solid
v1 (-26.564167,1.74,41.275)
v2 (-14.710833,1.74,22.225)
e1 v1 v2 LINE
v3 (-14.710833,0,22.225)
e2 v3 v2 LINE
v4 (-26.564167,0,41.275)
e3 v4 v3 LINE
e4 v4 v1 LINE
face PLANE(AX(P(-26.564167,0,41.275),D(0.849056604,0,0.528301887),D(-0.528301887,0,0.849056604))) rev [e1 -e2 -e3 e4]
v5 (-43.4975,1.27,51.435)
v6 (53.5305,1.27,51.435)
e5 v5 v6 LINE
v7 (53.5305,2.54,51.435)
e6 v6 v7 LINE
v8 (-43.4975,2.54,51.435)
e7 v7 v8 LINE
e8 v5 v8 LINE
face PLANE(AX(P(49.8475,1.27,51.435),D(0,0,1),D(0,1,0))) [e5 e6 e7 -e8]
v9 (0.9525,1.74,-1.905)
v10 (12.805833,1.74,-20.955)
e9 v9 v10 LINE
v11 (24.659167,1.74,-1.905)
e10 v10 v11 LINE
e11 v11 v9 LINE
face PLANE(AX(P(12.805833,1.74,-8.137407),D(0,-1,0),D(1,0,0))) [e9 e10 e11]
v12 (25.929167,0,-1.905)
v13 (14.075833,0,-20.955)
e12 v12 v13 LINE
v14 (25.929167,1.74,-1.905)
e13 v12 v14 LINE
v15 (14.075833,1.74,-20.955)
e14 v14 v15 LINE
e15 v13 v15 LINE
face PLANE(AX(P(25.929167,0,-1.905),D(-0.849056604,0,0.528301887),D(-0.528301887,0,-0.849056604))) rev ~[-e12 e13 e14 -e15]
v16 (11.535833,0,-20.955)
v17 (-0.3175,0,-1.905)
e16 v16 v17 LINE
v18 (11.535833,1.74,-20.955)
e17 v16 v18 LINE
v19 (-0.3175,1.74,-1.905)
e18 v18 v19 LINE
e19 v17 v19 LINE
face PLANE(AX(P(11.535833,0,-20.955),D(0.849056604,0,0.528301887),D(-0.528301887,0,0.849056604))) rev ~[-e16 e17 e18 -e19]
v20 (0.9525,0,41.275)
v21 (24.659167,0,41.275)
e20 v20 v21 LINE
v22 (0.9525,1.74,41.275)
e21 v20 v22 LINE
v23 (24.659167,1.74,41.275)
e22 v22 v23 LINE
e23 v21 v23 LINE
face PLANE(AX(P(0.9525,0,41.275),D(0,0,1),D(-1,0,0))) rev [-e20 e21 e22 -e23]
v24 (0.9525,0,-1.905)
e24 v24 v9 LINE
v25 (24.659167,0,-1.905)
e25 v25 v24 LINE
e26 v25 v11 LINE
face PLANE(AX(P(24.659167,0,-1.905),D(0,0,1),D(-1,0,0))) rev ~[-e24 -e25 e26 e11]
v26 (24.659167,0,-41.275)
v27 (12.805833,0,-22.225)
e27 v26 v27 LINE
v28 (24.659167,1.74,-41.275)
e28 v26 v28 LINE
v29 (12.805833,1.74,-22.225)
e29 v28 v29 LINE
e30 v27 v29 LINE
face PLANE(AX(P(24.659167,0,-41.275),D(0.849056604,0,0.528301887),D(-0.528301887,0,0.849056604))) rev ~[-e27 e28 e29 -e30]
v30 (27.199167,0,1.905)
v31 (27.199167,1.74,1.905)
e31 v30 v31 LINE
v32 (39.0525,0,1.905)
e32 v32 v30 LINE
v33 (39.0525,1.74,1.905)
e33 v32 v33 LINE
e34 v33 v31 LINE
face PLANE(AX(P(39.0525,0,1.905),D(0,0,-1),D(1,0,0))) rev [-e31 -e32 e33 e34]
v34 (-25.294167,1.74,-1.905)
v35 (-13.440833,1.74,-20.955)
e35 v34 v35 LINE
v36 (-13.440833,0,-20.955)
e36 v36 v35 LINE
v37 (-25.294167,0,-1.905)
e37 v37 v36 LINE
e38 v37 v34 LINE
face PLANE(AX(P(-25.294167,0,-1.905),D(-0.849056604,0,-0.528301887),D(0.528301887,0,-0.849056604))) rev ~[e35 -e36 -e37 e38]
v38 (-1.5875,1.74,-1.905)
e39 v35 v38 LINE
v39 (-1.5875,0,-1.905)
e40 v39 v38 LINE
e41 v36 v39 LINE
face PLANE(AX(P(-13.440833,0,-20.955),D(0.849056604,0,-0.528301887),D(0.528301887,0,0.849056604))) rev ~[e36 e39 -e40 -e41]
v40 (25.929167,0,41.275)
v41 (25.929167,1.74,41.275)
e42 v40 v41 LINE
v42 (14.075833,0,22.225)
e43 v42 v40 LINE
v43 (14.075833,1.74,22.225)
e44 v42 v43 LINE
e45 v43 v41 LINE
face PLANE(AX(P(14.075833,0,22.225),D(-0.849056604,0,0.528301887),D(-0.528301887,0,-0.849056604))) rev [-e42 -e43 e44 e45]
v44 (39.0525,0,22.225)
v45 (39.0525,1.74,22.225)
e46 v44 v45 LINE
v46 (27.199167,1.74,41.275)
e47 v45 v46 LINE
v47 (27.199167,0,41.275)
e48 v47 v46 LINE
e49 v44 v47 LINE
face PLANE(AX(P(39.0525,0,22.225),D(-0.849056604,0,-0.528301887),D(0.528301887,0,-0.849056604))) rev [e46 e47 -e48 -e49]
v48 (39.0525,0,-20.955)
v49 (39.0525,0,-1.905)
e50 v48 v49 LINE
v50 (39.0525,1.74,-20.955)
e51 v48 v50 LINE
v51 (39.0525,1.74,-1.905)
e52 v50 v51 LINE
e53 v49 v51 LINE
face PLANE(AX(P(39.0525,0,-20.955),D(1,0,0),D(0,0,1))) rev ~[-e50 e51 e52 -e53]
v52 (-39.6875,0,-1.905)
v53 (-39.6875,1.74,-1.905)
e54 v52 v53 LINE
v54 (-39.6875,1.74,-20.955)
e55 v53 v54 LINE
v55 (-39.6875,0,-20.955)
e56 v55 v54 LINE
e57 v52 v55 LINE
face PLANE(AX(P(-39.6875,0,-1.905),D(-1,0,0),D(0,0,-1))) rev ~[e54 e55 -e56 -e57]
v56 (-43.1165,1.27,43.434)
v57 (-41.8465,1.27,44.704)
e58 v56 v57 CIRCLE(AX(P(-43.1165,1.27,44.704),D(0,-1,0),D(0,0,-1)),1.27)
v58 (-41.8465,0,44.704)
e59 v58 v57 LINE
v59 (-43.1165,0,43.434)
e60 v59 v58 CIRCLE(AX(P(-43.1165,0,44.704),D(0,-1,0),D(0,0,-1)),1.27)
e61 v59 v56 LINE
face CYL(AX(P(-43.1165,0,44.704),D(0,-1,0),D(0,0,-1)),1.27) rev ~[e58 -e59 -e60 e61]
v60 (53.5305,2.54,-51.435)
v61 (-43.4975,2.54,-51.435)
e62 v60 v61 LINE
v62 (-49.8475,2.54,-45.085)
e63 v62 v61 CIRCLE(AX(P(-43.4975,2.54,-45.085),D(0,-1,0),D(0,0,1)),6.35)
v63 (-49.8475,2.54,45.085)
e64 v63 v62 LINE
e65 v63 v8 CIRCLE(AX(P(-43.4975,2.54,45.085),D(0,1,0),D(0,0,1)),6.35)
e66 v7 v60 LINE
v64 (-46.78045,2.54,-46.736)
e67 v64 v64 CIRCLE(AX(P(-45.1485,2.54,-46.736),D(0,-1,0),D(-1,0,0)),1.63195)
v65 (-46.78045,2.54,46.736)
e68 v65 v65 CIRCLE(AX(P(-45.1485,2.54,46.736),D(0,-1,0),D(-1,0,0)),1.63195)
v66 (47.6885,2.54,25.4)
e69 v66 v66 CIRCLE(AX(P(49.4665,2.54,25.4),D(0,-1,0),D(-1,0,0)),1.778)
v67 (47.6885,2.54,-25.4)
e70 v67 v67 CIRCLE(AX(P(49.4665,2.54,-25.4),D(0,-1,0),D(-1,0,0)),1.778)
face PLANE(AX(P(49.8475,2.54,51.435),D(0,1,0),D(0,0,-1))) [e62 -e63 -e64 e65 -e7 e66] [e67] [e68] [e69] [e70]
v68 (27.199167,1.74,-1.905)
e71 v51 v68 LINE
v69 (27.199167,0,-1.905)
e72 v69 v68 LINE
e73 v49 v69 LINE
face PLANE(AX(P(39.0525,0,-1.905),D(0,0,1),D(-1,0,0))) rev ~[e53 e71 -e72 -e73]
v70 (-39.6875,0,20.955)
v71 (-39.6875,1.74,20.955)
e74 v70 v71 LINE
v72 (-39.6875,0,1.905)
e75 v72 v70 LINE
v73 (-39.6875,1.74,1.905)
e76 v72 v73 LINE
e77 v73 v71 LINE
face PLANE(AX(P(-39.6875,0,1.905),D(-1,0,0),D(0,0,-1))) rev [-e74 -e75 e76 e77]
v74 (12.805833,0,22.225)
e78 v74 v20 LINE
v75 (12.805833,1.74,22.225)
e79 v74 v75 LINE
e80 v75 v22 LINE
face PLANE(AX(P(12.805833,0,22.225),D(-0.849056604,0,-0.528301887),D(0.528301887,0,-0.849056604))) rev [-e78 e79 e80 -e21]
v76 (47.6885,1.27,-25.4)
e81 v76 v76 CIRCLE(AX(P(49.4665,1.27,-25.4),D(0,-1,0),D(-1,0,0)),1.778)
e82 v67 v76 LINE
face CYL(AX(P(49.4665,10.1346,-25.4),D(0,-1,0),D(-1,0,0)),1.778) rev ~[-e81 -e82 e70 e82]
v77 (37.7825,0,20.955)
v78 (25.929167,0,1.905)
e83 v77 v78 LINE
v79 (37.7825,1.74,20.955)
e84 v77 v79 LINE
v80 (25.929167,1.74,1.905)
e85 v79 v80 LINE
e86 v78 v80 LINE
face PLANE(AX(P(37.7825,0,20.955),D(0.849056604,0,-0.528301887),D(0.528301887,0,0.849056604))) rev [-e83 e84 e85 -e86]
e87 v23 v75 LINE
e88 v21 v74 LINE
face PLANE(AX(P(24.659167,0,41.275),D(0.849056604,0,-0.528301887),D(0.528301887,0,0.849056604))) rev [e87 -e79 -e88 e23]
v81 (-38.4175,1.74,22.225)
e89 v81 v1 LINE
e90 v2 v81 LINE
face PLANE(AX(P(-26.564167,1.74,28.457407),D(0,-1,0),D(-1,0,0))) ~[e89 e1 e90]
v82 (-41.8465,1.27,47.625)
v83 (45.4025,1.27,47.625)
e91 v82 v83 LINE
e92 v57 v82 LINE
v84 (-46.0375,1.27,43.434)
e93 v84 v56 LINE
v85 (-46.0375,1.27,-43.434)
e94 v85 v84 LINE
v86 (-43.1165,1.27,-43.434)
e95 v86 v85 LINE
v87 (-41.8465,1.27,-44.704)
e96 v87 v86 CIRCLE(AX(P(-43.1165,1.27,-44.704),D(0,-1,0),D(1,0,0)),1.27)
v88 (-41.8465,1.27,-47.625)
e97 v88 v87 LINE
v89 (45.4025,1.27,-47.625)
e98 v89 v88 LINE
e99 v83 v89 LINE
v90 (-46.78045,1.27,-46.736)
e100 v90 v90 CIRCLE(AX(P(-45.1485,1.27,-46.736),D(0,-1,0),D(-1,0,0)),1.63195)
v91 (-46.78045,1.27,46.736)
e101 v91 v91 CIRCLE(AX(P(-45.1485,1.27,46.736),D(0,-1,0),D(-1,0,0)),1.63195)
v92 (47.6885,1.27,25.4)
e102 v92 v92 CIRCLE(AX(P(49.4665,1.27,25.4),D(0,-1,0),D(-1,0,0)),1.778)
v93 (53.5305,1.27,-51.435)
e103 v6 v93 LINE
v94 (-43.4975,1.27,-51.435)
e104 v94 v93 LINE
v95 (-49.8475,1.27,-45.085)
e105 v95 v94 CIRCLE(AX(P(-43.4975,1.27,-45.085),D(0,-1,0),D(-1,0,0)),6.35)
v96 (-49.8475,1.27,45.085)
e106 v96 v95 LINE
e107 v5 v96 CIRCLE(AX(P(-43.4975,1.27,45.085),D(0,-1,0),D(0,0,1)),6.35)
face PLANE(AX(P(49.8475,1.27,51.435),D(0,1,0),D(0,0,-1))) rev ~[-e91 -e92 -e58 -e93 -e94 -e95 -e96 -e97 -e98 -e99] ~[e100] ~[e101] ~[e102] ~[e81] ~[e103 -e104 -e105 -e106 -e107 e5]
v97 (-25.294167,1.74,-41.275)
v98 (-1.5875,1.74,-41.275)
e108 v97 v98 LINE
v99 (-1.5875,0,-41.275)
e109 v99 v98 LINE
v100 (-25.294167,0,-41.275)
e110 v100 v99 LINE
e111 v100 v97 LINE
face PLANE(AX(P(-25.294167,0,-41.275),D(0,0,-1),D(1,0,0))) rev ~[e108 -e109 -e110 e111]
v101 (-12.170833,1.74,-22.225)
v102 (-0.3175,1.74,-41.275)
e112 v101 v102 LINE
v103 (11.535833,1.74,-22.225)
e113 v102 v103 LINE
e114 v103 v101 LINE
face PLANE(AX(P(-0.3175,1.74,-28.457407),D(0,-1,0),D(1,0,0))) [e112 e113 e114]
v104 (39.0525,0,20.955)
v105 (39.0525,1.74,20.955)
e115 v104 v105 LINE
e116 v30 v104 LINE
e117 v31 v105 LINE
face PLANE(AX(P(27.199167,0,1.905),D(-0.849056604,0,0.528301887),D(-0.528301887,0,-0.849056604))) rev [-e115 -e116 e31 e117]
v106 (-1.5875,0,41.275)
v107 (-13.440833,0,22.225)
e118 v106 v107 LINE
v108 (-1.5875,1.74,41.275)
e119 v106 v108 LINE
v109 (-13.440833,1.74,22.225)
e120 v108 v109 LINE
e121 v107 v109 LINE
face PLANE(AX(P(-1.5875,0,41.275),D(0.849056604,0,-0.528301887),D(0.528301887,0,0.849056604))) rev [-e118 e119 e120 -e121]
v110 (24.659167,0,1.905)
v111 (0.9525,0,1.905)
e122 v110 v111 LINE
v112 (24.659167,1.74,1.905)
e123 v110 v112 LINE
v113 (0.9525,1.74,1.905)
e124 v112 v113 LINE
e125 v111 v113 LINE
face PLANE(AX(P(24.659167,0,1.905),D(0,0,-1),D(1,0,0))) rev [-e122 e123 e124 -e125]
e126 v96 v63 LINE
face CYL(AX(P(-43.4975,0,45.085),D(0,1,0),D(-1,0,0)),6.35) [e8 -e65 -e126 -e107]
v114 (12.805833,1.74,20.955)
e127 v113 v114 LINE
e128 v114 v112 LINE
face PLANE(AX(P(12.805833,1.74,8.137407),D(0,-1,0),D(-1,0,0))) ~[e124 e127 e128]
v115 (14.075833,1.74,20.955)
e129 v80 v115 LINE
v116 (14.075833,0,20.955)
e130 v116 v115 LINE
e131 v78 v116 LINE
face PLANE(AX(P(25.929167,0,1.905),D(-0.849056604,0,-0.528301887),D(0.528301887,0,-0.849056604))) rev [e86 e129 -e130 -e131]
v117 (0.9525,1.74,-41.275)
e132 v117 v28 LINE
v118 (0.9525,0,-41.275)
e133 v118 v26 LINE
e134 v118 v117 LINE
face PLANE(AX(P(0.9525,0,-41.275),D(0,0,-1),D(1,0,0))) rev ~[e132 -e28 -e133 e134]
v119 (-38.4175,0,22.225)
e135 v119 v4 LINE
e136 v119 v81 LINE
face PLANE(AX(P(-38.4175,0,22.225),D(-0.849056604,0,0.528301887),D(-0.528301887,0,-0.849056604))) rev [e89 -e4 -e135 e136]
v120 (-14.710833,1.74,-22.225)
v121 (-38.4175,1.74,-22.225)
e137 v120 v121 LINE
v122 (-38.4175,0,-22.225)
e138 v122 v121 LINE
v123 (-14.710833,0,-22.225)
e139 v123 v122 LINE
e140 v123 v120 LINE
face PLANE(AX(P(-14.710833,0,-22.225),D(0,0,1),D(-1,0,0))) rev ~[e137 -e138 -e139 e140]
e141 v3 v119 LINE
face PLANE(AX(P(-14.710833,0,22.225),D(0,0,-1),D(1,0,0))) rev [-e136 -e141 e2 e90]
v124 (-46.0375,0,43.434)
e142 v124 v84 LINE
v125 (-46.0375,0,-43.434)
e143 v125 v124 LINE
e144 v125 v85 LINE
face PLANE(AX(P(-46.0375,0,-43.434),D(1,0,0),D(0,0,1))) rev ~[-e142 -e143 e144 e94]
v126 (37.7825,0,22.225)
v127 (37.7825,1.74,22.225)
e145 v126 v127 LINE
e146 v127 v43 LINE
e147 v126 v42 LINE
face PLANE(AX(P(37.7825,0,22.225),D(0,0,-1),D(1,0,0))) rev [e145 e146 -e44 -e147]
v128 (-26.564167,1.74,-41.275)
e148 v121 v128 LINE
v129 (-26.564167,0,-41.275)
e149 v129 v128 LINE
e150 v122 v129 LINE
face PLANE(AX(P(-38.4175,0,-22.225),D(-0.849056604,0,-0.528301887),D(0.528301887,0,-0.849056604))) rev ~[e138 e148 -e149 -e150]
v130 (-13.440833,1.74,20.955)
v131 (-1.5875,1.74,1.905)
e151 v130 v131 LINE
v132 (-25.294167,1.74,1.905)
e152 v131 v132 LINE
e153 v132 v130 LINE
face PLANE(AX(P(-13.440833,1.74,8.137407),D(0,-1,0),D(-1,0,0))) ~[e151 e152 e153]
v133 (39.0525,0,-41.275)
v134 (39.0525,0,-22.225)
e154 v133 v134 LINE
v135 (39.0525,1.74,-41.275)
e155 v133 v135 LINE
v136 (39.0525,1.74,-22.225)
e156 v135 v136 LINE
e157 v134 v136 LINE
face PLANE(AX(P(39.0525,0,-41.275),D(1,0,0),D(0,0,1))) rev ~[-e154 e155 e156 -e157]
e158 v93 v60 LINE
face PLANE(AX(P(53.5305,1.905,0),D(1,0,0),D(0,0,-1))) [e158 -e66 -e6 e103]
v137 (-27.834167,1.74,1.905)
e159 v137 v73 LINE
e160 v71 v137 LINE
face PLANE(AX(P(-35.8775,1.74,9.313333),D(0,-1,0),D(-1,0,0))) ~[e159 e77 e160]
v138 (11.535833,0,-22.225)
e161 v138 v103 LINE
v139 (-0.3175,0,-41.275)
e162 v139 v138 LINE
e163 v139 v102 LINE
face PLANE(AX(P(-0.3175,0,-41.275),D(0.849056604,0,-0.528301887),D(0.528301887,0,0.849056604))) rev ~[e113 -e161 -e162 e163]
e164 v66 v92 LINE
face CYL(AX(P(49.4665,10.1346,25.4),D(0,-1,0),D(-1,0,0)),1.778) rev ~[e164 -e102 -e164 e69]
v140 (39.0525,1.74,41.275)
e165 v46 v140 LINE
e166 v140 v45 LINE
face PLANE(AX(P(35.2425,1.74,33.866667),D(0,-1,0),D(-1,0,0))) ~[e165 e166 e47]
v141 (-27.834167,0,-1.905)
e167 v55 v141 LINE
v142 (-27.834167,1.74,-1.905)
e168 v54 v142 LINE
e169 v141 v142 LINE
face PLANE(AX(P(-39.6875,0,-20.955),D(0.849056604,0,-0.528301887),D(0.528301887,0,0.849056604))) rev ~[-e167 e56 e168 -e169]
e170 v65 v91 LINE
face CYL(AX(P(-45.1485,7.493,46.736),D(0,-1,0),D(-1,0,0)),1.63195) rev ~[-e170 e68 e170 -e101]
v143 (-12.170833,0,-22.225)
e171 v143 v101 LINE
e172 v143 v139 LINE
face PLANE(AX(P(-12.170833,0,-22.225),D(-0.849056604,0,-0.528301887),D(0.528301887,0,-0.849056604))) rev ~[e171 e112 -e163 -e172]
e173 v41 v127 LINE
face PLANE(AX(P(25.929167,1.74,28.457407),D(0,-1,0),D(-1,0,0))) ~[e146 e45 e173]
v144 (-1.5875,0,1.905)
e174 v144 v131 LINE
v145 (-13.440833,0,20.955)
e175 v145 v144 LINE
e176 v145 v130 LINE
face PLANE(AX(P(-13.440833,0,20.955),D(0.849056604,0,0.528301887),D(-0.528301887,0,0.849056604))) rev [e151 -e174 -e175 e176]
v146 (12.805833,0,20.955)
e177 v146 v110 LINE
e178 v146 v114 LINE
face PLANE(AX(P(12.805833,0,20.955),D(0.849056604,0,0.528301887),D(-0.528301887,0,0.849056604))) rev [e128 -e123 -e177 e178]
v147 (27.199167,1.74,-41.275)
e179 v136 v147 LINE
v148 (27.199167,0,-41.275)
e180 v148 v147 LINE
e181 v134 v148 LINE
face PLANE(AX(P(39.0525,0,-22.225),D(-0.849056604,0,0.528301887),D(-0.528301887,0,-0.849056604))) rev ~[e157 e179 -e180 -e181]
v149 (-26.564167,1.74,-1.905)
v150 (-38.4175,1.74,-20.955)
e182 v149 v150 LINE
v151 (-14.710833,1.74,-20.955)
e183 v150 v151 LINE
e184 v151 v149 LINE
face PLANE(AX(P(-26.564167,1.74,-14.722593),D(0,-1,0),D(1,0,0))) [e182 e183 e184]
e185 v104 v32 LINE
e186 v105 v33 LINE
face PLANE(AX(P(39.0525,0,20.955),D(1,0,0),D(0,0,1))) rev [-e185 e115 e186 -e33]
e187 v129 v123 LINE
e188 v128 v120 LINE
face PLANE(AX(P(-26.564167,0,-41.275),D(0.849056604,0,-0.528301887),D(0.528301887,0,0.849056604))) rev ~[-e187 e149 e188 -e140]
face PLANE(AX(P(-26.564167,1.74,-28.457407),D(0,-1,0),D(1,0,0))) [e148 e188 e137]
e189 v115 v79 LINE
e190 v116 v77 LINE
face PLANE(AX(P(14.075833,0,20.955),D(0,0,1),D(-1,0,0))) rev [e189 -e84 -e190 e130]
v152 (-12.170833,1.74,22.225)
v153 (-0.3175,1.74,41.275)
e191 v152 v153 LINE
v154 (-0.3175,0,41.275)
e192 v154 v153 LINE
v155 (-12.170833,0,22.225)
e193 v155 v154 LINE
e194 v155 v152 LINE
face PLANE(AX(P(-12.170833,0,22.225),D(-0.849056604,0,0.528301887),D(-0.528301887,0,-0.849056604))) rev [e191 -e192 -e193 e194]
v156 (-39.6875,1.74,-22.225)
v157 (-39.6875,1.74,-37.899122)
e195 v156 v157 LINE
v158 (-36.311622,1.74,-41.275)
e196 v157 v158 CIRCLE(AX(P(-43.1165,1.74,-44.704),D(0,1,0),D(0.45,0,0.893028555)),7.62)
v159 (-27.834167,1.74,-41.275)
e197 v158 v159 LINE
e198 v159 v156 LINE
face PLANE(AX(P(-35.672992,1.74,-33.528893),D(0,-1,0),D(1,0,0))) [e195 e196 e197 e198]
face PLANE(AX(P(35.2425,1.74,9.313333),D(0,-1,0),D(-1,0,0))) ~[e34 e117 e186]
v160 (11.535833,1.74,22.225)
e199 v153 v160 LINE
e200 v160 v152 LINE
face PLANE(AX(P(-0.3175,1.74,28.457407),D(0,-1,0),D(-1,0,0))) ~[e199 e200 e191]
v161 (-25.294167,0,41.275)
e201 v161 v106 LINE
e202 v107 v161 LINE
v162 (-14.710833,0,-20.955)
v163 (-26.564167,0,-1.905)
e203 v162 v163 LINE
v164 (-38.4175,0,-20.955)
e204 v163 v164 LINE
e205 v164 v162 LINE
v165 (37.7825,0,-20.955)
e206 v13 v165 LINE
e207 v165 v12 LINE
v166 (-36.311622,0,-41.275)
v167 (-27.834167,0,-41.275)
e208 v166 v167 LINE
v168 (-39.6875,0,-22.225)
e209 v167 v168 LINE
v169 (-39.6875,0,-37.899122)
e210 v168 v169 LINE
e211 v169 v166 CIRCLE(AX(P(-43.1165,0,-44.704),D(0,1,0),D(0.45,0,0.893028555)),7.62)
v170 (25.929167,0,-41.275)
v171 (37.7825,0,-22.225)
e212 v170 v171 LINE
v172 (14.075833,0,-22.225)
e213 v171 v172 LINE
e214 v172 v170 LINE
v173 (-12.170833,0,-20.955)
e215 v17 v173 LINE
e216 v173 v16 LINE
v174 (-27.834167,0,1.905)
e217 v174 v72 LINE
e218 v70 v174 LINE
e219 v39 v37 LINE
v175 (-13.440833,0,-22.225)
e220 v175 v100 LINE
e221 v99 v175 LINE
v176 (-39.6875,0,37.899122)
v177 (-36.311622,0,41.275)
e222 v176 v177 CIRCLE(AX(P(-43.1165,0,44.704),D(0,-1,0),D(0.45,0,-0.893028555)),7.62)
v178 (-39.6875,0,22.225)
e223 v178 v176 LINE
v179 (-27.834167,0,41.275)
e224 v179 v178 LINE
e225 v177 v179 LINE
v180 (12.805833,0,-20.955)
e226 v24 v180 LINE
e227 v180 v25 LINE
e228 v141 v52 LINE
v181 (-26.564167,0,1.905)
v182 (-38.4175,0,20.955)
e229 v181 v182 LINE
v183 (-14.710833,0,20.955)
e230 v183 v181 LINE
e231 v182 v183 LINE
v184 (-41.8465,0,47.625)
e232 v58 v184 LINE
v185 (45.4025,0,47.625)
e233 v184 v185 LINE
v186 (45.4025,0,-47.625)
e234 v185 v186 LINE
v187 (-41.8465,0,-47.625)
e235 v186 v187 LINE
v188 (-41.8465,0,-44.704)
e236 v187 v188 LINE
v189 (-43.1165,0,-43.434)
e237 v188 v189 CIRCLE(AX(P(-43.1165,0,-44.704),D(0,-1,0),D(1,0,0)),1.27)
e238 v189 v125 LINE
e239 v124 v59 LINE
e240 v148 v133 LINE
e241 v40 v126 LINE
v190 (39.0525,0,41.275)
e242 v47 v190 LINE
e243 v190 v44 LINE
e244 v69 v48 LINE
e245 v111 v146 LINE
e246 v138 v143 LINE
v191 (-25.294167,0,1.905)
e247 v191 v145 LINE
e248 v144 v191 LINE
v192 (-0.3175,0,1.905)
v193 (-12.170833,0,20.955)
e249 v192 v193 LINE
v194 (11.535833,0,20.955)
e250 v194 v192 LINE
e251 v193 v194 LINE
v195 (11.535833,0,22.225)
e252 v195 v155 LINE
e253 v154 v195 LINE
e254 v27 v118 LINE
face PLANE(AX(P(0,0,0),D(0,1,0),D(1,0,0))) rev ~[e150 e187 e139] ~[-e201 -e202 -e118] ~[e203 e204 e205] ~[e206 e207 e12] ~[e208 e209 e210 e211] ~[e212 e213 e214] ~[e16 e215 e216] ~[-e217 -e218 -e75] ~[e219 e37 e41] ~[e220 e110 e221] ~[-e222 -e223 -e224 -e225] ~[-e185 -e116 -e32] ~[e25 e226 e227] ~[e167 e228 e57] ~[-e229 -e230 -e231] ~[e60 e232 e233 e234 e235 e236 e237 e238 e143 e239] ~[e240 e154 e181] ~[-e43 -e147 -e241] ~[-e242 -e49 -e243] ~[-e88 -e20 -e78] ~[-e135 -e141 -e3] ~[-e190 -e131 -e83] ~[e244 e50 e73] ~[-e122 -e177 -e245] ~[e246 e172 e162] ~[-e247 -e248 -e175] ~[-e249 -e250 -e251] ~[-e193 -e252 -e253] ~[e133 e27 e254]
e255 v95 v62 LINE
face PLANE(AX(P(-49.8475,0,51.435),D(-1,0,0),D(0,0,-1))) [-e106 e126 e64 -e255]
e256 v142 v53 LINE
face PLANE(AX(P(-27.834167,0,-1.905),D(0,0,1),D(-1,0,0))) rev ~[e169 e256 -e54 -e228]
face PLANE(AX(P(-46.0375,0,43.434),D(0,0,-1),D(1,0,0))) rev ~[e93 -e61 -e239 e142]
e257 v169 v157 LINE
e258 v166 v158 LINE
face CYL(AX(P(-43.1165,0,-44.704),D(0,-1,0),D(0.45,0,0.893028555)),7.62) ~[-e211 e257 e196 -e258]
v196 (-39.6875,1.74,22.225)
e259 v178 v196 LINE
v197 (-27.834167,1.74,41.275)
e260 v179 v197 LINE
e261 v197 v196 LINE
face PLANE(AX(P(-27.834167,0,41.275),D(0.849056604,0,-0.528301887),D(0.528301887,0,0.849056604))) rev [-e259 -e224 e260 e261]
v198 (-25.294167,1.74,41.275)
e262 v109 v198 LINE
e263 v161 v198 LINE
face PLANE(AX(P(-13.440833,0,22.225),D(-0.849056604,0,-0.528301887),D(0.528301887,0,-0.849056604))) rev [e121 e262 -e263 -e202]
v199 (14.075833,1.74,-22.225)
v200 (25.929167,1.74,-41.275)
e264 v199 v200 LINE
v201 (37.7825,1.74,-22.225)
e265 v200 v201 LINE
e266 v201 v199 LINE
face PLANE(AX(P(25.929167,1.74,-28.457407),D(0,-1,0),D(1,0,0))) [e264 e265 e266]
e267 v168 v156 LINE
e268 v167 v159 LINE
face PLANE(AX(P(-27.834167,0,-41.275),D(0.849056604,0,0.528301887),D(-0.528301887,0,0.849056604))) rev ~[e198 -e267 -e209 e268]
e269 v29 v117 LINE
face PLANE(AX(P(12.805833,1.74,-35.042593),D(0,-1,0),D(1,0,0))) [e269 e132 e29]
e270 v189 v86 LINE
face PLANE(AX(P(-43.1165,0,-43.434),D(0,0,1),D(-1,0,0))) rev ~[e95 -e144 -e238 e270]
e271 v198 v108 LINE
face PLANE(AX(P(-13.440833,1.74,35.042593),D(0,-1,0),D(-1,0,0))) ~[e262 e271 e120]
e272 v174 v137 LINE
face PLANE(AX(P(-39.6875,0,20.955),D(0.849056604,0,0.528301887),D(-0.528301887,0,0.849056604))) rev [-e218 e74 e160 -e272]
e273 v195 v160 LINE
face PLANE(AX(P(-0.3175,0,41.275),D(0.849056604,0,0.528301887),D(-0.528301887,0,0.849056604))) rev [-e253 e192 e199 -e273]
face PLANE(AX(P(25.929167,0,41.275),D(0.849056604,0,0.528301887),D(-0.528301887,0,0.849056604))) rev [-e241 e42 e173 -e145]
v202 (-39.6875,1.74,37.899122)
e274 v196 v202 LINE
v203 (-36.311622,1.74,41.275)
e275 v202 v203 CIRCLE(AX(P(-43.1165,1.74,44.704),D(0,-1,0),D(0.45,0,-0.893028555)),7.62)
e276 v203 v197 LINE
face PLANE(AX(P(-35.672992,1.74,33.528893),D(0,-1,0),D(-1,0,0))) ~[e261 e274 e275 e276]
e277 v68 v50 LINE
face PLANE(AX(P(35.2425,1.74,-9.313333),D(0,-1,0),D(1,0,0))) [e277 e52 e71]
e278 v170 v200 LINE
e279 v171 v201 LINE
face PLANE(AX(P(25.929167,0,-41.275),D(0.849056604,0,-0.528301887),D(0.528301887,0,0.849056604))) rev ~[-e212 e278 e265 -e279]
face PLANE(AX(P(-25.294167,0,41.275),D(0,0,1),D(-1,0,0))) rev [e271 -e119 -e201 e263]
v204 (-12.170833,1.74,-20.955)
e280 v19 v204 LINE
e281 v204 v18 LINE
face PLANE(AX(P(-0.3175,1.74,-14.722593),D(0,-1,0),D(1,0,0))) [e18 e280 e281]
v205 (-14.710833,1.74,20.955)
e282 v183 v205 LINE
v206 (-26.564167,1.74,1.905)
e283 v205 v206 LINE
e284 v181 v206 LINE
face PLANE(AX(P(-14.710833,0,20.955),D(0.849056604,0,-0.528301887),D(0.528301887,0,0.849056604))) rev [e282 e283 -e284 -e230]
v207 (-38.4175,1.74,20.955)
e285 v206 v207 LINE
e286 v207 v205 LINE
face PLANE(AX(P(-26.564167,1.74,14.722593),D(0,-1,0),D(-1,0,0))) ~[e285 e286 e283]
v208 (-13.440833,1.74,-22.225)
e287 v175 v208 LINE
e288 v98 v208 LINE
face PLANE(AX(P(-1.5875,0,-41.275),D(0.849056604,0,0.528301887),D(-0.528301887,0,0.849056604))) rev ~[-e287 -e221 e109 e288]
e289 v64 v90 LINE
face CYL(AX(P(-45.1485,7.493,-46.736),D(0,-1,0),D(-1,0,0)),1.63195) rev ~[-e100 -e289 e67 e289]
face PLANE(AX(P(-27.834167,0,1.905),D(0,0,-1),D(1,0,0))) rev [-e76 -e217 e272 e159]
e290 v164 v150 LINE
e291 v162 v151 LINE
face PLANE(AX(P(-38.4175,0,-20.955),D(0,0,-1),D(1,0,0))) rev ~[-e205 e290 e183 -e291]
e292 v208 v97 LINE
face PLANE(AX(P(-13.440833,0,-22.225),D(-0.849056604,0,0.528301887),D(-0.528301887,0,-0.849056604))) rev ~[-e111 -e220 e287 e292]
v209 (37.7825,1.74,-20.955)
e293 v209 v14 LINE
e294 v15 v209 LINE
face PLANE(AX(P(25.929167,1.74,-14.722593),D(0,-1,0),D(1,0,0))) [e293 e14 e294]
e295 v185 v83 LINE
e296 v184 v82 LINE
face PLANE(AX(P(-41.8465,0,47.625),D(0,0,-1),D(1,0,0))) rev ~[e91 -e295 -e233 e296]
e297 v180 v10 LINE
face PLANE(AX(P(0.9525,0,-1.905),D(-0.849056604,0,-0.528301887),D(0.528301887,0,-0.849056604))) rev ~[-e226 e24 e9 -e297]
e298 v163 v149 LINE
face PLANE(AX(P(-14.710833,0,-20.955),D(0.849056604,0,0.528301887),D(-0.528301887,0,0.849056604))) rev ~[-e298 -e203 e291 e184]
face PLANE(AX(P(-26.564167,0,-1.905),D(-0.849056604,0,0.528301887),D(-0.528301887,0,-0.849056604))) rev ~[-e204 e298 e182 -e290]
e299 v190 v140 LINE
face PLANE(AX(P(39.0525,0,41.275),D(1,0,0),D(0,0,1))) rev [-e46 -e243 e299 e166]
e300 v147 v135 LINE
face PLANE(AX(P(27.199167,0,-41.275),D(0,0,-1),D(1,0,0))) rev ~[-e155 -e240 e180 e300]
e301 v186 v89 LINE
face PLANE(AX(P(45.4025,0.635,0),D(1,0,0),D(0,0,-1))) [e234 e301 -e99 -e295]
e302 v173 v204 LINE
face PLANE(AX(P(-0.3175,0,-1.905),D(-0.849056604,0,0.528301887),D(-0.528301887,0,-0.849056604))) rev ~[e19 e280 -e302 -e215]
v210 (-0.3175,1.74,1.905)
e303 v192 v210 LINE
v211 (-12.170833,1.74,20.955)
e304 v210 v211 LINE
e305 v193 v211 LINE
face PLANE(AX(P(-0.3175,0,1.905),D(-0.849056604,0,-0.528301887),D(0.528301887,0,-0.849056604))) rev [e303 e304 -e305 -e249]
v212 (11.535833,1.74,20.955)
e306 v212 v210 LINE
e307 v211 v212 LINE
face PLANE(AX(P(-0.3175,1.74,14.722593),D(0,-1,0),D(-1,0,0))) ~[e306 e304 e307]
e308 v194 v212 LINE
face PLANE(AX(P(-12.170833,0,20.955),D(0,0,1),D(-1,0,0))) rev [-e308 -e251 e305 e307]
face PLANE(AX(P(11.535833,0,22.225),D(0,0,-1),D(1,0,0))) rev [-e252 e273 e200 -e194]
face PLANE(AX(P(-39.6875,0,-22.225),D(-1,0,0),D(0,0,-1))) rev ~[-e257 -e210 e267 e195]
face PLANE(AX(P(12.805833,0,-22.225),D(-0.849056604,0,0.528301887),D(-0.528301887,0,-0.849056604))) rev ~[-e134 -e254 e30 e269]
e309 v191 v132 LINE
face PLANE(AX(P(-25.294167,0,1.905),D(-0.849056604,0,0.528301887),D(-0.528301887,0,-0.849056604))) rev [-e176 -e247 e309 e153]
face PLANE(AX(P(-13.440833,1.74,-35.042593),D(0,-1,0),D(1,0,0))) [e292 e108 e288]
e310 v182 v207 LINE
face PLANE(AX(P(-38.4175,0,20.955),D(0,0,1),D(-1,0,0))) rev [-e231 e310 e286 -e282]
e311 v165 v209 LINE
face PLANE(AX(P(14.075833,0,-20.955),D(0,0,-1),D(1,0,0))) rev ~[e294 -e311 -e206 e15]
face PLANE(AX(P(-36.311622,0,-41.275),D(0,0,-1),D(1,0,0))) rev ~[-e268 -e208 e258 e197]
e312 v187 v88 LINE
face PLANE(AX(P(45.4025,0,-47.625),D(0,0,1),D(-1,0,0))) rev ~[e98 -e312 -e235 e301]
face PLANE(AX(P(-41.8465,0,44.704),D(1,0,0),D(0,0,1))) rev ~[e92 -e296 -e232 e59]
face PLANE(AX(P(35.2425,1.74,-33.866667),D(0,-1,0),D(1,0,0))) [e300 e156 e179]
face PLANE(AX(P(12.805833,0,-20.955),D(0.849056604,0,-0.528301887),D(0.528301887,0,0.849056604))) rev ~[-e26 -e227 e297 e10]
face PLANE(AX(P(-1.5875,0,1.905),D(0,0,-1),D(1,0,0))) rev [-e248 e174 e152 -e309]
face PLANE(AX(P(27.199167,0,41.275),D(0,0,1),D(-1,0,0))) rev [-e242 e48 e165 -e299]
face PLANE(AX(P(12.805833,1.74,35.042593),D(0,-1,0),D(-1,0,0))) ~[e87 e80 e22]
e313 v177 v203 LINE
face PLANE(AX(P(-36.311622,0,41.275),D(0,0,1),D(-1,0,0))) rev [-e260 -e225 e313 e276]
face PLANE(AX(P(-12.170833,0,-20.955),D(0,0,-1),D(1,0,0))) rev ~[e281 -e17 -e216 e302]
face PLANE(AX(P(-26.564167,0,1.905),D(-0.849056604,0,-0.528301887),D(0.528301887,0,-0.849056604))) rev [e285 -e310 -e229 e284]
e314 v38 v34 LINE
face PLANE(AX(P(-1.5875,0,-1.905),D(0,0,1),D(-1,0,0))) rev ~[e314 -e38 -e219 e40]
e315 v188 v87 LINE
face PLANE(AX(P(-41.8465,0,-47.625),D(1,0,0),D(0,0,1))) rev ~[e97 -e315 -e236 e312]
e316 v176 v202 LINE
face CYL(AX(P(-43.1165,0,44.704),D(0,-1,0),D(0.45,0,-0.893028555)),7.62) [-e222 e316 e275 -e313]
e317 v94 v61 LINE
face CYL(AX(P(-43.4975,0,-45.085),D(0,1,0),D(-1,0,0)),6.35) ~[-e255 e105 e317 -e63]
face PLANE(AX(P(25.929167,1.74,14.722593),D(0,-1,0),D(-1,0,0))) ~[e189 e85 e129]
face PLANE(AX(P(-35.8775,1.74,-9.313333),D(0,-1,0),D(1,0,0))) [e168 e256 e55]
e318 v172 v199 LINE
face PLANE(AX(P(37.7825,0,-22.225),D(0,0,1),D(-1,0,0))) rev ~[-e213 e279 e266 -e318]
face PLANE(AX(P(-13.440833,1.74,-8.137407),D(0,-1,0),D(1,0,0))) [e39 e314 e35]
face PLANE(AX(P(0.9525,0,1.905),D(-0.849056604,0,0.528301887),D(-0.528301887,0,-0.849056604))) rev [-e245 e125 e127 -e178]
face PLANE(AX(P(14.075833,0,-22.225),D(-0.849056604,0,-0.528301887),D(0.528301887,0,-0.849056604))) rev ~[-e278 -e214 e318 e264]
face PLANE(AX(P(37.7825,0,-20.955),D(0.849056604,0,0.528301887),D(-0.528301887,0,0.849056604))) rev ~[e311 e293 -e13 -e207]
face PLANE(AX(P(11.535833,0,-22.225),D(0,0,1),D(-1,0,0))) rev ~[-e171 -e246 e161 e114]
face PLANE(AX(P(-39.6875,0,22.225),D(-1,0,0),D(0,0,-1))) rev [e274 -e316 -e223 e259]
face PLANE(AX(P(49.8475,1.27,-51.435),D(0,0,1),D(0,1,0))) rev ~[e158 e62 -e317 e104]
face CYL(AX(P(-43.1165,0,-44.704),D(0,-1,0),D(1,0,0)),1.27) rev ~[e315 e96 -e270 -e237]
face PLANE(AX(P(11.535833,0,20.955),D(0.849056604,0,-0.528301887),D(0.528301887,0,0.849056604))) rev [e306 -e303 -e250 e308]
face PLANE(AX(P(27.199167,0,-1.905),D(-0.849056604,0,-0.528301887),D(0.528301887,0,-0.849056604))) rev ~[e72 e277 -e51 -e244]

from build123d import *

# Parameters (mm, degrees)
SKETCH1_W                 = 99.695
SKETCH1_H                 = 102.87
BOSS_EXTRUDE1_DEPTH       = 2.54
FILLET2_R                 = 6.35
F_4_CLEARANCE_HOLE1_D     = 3.2639
F_4_CLEARANCE_HOLE1_DEPTH = 4.953
F_4_CLEARANCE_HOLE1_TIP   = 0.980574487
SKETCH5_W                 = 102.87
SKETCH5_H                 = 1.27
CUT_EXTRUDE1_DEPTH        = 4.445
SKETCH6_W                 = 102.87
SKETCH6_H                 = 1.27
BOSS_EXTRUDE3_DEPTH       = 3.683
F_4_CLEARANCE_HOLE2_D     = 3.556
F_4_CLEARANCE_HOLE2_DEPTH = 7.5946
F_4_CLEARANCE_HOLE2_TIP   = 1.068330181
CUT_EXTRUDE2_DEPTH        = 1.27
CUT_EXTRUDE3_DEPTH        = 1.74


with BuildPart() as part:
    # Sketch1 → Boss-Extrude1 (new body)
    with BuildSketch(Plane(origin=(0, 0, 0), x_dir=(1, 0, 0), z_dir=(0, 1, 0))):
        Rectangle(SKETCH1_W, SKETCH1_H)
    extrude(amount=BOSS_EXTRUDE1_DEPTH)

    # Fillet2
    fillet2_edges = [part.edges().sort_by_distance(p)[0] for p in [
        (-49.8475, 1.27, 51.435),
        (-49.8475, 1.27, -51.435),
    ]]
    fillet(fillet2_edges, radius=FILLET2_R)

    # #4 Clearance Hole1
    with Locations(Plane(origin=(0, 2.54, 0), x_dir=(1, 0, 0), z_dir=(0, 1, 0))):
        with Locations((-45.1485, 46.736), (-45.1485, -46.736)):
            Hole(F_4_CLEARANCE_HOLE1_D / 2, depth=F_4_CLEARANCE_HOLE1_DEPTH)
            with Locations((0, 0, -(F_4_CLEARANCE_HOLE1_DEPTH + F_4_CLEARANCE_HOLE1_TIP / 2))):  # 118° drill point
                Cone(0, F_4_CLEARANCE_HOLE1_D / 2, F_4_CLEARANCE_HOLE1_TIP, mode=Mode.SUBTRACT)

    # Sketch5 → Cut-Extrude1 (cut)
    with BuildSketch(Plane(origin=(49.8475, 0, 0), x_dir=(0, 0, -1), z_dir=(1, 0, 0))):
        with Locations((0, 0.635)):
            Rectangle(SKETCH5_W, SKETCH5_H)
    extrude(amount=-CUT_EXTRUDE1_DEPTH, mode=Mode.SUBTRACT)

    # Sketch6 → Boss-Extrude3 (add)
    with BuildSketch(Plane(origin=(49.8475, 0, 0), x_dir=(0, 0, -1), z_dir=(1, 0, 0))):
        with Locations((0, 1.905)):
            Rectangle(SKETCH6_W, SKETCH6_H)
    extrude(amount=BOSS_EXTRUDE3_DEPTH)

    # #4 Clearance Hole2
    with Locations(Plane(origin=(0, 2.54, 0), x_dir=(1, 0, 0), z_dir=(0, 1, 0))):
        with Locations((49.4665, 25.4), (49.4665, -25.4)):
            Hole(F_4_CLEARANCE_HOLE2_D / 2, depth=F_4_CLEARANCE_HOLE2_DEPTH)
            with Locations((0, 0, -(F_4_CLEARANCE_HOLE2_DEPTH + F_4_CLEARANCE_HOLE2_TIP / 2))):  # 118° drill point
                Cone(0, F_4_CLEARANCE_HOLE2_D / 2, F_4_CLEARANCE_HOLE2_TIP, mode=Mode.SUBTRACT)

    # Sketch11 → Cut-Extrude2 (cut)
    with BuildSketch(Plane.XZ):
        with BuildLine():
            Line((-46.0375, -43.434), (-46.0375, 43.434))
            Line((-46.0375, 43.434), (-43.1165, 43.434))
            ThreePointArc((-43.1165, 43.434), (-42.218474388, 43.805974388), (-41.8465, 44.704))
            Line((-41.8465, 44.704), (-41.8465, 47.625))
            Line((-41.8465, 47.625), (45.4025, 47.625))
            Line((45.4025, 47.625), (45.4025, 51.435))
            Line((45.4025, 51.435), (-43.4975, 51.435))
            ThreePointArc((-43.4975, 51.435), (-47.987628061, 49.575128061), (-49.8475, 45.085))
            Line((-49.8475, 45.085), (-49.8475, -45.085))
            ThreePointArc((-49.8475, -45.085), (-47.987628061, -49.575128061), (-43.4975, -51.435))
            Line((-43.4975, -51.435), (45.4025, -51.435))
            Line((45.4025, -51.435), (45.4025, -47.625))
            Line((45.4025, -47.625), (-41.8465, -47.625))
            Line((-41.8465, -47.625), (-41.8465, -44.704))
            ThreePointArc((-41.8465, -44.704), (-42.218474388, -43.805974388), (-43.1165, -43.434))
            Line((-43.1165, -43.434), (-46.0375, -43.434))
        make_face()
    extrude(amount=-CUT_EXTRUDE2_DEPTH, mode=Mode.SUBTRACT)

    # Sketch12 → Cut-Extrude3 (cut)
    with BuildSketch(Plane.XZ):
        with BuildLine():
            Line((-27.834166667, -41.275), (-39.6875, -22.225))
            Line((-39.6875, -22.225), (-39.6875, -37.899122411))
            ThreePointArc((-39.6875, -37.899122411), (-37.728346327, -39.315846327), (-36.311622411, -41.275))
            Line((-36.311622411, -41.275), (-27.834166667, -41.275))
        make_face()
        Polygon((-14.710833333, -22.225), (-38.4175, -22.225), (-26.564166667, -41.275), align=None)
        Polygon((-13.440833333, -22.225), (-25.294166667, -41.275), (-1.5875, -41.275), align=None)
        Polygon((11.535833333, -22.225), (-12.170833333, -22.225), (-0.3175, -41.275), align=None)
        Polygon((12.805833333, -22.225), (0.9525, -41.275), (24.659166667, -41.275), align=None)
        Polygon((37.7825, -22.225), (14.075833333, -22.225), (25.929166667, -41.275), align=None)
        Polygon((39.0525, -41.275), (39.0525, -22.225), (27.199166667, -41.275), align=None)
        Polygon((-39.6875, -1.905), (-39.6875, -20.955), (-27.834166667, -1.905), align=None)
        Polygon((-26.564166667, -1.905), (-38.4175, -20.955), (-14.710833333, -20.955), align=None)
        Polygon((-25.294166667, -1.905), (-13.440833333, -20.955), (-1.5875, -1.905), align=None)
        Polygon((-0.3175, -1.905), (-12.170833333, -20.955), (11.535833333, -20.955), align=None)
        Polygon((0.9525, -1.905), (12.805833333, -20.955), (24.659166667, -1.905), align=None)
        Polygon((14.075833333, -20.955), (37.7825, -20.955), (25.929166667, -1.905), align=None)
        Polygon((39.0525, -20.955), (39.0525, -1.905), (27.199166667, -1.905), align=None)
    cut_extrude3 = extrude(amount=-CUT_EXTRUDE3_DEPTH, mode=Mode.SUBTRACT)

    # Mirror1: Cut-Extrude3 across plane
    add(cut_extrude3.mirror(Plane.XY), mode=Mode.SUBTRACT)


solid = part.part
